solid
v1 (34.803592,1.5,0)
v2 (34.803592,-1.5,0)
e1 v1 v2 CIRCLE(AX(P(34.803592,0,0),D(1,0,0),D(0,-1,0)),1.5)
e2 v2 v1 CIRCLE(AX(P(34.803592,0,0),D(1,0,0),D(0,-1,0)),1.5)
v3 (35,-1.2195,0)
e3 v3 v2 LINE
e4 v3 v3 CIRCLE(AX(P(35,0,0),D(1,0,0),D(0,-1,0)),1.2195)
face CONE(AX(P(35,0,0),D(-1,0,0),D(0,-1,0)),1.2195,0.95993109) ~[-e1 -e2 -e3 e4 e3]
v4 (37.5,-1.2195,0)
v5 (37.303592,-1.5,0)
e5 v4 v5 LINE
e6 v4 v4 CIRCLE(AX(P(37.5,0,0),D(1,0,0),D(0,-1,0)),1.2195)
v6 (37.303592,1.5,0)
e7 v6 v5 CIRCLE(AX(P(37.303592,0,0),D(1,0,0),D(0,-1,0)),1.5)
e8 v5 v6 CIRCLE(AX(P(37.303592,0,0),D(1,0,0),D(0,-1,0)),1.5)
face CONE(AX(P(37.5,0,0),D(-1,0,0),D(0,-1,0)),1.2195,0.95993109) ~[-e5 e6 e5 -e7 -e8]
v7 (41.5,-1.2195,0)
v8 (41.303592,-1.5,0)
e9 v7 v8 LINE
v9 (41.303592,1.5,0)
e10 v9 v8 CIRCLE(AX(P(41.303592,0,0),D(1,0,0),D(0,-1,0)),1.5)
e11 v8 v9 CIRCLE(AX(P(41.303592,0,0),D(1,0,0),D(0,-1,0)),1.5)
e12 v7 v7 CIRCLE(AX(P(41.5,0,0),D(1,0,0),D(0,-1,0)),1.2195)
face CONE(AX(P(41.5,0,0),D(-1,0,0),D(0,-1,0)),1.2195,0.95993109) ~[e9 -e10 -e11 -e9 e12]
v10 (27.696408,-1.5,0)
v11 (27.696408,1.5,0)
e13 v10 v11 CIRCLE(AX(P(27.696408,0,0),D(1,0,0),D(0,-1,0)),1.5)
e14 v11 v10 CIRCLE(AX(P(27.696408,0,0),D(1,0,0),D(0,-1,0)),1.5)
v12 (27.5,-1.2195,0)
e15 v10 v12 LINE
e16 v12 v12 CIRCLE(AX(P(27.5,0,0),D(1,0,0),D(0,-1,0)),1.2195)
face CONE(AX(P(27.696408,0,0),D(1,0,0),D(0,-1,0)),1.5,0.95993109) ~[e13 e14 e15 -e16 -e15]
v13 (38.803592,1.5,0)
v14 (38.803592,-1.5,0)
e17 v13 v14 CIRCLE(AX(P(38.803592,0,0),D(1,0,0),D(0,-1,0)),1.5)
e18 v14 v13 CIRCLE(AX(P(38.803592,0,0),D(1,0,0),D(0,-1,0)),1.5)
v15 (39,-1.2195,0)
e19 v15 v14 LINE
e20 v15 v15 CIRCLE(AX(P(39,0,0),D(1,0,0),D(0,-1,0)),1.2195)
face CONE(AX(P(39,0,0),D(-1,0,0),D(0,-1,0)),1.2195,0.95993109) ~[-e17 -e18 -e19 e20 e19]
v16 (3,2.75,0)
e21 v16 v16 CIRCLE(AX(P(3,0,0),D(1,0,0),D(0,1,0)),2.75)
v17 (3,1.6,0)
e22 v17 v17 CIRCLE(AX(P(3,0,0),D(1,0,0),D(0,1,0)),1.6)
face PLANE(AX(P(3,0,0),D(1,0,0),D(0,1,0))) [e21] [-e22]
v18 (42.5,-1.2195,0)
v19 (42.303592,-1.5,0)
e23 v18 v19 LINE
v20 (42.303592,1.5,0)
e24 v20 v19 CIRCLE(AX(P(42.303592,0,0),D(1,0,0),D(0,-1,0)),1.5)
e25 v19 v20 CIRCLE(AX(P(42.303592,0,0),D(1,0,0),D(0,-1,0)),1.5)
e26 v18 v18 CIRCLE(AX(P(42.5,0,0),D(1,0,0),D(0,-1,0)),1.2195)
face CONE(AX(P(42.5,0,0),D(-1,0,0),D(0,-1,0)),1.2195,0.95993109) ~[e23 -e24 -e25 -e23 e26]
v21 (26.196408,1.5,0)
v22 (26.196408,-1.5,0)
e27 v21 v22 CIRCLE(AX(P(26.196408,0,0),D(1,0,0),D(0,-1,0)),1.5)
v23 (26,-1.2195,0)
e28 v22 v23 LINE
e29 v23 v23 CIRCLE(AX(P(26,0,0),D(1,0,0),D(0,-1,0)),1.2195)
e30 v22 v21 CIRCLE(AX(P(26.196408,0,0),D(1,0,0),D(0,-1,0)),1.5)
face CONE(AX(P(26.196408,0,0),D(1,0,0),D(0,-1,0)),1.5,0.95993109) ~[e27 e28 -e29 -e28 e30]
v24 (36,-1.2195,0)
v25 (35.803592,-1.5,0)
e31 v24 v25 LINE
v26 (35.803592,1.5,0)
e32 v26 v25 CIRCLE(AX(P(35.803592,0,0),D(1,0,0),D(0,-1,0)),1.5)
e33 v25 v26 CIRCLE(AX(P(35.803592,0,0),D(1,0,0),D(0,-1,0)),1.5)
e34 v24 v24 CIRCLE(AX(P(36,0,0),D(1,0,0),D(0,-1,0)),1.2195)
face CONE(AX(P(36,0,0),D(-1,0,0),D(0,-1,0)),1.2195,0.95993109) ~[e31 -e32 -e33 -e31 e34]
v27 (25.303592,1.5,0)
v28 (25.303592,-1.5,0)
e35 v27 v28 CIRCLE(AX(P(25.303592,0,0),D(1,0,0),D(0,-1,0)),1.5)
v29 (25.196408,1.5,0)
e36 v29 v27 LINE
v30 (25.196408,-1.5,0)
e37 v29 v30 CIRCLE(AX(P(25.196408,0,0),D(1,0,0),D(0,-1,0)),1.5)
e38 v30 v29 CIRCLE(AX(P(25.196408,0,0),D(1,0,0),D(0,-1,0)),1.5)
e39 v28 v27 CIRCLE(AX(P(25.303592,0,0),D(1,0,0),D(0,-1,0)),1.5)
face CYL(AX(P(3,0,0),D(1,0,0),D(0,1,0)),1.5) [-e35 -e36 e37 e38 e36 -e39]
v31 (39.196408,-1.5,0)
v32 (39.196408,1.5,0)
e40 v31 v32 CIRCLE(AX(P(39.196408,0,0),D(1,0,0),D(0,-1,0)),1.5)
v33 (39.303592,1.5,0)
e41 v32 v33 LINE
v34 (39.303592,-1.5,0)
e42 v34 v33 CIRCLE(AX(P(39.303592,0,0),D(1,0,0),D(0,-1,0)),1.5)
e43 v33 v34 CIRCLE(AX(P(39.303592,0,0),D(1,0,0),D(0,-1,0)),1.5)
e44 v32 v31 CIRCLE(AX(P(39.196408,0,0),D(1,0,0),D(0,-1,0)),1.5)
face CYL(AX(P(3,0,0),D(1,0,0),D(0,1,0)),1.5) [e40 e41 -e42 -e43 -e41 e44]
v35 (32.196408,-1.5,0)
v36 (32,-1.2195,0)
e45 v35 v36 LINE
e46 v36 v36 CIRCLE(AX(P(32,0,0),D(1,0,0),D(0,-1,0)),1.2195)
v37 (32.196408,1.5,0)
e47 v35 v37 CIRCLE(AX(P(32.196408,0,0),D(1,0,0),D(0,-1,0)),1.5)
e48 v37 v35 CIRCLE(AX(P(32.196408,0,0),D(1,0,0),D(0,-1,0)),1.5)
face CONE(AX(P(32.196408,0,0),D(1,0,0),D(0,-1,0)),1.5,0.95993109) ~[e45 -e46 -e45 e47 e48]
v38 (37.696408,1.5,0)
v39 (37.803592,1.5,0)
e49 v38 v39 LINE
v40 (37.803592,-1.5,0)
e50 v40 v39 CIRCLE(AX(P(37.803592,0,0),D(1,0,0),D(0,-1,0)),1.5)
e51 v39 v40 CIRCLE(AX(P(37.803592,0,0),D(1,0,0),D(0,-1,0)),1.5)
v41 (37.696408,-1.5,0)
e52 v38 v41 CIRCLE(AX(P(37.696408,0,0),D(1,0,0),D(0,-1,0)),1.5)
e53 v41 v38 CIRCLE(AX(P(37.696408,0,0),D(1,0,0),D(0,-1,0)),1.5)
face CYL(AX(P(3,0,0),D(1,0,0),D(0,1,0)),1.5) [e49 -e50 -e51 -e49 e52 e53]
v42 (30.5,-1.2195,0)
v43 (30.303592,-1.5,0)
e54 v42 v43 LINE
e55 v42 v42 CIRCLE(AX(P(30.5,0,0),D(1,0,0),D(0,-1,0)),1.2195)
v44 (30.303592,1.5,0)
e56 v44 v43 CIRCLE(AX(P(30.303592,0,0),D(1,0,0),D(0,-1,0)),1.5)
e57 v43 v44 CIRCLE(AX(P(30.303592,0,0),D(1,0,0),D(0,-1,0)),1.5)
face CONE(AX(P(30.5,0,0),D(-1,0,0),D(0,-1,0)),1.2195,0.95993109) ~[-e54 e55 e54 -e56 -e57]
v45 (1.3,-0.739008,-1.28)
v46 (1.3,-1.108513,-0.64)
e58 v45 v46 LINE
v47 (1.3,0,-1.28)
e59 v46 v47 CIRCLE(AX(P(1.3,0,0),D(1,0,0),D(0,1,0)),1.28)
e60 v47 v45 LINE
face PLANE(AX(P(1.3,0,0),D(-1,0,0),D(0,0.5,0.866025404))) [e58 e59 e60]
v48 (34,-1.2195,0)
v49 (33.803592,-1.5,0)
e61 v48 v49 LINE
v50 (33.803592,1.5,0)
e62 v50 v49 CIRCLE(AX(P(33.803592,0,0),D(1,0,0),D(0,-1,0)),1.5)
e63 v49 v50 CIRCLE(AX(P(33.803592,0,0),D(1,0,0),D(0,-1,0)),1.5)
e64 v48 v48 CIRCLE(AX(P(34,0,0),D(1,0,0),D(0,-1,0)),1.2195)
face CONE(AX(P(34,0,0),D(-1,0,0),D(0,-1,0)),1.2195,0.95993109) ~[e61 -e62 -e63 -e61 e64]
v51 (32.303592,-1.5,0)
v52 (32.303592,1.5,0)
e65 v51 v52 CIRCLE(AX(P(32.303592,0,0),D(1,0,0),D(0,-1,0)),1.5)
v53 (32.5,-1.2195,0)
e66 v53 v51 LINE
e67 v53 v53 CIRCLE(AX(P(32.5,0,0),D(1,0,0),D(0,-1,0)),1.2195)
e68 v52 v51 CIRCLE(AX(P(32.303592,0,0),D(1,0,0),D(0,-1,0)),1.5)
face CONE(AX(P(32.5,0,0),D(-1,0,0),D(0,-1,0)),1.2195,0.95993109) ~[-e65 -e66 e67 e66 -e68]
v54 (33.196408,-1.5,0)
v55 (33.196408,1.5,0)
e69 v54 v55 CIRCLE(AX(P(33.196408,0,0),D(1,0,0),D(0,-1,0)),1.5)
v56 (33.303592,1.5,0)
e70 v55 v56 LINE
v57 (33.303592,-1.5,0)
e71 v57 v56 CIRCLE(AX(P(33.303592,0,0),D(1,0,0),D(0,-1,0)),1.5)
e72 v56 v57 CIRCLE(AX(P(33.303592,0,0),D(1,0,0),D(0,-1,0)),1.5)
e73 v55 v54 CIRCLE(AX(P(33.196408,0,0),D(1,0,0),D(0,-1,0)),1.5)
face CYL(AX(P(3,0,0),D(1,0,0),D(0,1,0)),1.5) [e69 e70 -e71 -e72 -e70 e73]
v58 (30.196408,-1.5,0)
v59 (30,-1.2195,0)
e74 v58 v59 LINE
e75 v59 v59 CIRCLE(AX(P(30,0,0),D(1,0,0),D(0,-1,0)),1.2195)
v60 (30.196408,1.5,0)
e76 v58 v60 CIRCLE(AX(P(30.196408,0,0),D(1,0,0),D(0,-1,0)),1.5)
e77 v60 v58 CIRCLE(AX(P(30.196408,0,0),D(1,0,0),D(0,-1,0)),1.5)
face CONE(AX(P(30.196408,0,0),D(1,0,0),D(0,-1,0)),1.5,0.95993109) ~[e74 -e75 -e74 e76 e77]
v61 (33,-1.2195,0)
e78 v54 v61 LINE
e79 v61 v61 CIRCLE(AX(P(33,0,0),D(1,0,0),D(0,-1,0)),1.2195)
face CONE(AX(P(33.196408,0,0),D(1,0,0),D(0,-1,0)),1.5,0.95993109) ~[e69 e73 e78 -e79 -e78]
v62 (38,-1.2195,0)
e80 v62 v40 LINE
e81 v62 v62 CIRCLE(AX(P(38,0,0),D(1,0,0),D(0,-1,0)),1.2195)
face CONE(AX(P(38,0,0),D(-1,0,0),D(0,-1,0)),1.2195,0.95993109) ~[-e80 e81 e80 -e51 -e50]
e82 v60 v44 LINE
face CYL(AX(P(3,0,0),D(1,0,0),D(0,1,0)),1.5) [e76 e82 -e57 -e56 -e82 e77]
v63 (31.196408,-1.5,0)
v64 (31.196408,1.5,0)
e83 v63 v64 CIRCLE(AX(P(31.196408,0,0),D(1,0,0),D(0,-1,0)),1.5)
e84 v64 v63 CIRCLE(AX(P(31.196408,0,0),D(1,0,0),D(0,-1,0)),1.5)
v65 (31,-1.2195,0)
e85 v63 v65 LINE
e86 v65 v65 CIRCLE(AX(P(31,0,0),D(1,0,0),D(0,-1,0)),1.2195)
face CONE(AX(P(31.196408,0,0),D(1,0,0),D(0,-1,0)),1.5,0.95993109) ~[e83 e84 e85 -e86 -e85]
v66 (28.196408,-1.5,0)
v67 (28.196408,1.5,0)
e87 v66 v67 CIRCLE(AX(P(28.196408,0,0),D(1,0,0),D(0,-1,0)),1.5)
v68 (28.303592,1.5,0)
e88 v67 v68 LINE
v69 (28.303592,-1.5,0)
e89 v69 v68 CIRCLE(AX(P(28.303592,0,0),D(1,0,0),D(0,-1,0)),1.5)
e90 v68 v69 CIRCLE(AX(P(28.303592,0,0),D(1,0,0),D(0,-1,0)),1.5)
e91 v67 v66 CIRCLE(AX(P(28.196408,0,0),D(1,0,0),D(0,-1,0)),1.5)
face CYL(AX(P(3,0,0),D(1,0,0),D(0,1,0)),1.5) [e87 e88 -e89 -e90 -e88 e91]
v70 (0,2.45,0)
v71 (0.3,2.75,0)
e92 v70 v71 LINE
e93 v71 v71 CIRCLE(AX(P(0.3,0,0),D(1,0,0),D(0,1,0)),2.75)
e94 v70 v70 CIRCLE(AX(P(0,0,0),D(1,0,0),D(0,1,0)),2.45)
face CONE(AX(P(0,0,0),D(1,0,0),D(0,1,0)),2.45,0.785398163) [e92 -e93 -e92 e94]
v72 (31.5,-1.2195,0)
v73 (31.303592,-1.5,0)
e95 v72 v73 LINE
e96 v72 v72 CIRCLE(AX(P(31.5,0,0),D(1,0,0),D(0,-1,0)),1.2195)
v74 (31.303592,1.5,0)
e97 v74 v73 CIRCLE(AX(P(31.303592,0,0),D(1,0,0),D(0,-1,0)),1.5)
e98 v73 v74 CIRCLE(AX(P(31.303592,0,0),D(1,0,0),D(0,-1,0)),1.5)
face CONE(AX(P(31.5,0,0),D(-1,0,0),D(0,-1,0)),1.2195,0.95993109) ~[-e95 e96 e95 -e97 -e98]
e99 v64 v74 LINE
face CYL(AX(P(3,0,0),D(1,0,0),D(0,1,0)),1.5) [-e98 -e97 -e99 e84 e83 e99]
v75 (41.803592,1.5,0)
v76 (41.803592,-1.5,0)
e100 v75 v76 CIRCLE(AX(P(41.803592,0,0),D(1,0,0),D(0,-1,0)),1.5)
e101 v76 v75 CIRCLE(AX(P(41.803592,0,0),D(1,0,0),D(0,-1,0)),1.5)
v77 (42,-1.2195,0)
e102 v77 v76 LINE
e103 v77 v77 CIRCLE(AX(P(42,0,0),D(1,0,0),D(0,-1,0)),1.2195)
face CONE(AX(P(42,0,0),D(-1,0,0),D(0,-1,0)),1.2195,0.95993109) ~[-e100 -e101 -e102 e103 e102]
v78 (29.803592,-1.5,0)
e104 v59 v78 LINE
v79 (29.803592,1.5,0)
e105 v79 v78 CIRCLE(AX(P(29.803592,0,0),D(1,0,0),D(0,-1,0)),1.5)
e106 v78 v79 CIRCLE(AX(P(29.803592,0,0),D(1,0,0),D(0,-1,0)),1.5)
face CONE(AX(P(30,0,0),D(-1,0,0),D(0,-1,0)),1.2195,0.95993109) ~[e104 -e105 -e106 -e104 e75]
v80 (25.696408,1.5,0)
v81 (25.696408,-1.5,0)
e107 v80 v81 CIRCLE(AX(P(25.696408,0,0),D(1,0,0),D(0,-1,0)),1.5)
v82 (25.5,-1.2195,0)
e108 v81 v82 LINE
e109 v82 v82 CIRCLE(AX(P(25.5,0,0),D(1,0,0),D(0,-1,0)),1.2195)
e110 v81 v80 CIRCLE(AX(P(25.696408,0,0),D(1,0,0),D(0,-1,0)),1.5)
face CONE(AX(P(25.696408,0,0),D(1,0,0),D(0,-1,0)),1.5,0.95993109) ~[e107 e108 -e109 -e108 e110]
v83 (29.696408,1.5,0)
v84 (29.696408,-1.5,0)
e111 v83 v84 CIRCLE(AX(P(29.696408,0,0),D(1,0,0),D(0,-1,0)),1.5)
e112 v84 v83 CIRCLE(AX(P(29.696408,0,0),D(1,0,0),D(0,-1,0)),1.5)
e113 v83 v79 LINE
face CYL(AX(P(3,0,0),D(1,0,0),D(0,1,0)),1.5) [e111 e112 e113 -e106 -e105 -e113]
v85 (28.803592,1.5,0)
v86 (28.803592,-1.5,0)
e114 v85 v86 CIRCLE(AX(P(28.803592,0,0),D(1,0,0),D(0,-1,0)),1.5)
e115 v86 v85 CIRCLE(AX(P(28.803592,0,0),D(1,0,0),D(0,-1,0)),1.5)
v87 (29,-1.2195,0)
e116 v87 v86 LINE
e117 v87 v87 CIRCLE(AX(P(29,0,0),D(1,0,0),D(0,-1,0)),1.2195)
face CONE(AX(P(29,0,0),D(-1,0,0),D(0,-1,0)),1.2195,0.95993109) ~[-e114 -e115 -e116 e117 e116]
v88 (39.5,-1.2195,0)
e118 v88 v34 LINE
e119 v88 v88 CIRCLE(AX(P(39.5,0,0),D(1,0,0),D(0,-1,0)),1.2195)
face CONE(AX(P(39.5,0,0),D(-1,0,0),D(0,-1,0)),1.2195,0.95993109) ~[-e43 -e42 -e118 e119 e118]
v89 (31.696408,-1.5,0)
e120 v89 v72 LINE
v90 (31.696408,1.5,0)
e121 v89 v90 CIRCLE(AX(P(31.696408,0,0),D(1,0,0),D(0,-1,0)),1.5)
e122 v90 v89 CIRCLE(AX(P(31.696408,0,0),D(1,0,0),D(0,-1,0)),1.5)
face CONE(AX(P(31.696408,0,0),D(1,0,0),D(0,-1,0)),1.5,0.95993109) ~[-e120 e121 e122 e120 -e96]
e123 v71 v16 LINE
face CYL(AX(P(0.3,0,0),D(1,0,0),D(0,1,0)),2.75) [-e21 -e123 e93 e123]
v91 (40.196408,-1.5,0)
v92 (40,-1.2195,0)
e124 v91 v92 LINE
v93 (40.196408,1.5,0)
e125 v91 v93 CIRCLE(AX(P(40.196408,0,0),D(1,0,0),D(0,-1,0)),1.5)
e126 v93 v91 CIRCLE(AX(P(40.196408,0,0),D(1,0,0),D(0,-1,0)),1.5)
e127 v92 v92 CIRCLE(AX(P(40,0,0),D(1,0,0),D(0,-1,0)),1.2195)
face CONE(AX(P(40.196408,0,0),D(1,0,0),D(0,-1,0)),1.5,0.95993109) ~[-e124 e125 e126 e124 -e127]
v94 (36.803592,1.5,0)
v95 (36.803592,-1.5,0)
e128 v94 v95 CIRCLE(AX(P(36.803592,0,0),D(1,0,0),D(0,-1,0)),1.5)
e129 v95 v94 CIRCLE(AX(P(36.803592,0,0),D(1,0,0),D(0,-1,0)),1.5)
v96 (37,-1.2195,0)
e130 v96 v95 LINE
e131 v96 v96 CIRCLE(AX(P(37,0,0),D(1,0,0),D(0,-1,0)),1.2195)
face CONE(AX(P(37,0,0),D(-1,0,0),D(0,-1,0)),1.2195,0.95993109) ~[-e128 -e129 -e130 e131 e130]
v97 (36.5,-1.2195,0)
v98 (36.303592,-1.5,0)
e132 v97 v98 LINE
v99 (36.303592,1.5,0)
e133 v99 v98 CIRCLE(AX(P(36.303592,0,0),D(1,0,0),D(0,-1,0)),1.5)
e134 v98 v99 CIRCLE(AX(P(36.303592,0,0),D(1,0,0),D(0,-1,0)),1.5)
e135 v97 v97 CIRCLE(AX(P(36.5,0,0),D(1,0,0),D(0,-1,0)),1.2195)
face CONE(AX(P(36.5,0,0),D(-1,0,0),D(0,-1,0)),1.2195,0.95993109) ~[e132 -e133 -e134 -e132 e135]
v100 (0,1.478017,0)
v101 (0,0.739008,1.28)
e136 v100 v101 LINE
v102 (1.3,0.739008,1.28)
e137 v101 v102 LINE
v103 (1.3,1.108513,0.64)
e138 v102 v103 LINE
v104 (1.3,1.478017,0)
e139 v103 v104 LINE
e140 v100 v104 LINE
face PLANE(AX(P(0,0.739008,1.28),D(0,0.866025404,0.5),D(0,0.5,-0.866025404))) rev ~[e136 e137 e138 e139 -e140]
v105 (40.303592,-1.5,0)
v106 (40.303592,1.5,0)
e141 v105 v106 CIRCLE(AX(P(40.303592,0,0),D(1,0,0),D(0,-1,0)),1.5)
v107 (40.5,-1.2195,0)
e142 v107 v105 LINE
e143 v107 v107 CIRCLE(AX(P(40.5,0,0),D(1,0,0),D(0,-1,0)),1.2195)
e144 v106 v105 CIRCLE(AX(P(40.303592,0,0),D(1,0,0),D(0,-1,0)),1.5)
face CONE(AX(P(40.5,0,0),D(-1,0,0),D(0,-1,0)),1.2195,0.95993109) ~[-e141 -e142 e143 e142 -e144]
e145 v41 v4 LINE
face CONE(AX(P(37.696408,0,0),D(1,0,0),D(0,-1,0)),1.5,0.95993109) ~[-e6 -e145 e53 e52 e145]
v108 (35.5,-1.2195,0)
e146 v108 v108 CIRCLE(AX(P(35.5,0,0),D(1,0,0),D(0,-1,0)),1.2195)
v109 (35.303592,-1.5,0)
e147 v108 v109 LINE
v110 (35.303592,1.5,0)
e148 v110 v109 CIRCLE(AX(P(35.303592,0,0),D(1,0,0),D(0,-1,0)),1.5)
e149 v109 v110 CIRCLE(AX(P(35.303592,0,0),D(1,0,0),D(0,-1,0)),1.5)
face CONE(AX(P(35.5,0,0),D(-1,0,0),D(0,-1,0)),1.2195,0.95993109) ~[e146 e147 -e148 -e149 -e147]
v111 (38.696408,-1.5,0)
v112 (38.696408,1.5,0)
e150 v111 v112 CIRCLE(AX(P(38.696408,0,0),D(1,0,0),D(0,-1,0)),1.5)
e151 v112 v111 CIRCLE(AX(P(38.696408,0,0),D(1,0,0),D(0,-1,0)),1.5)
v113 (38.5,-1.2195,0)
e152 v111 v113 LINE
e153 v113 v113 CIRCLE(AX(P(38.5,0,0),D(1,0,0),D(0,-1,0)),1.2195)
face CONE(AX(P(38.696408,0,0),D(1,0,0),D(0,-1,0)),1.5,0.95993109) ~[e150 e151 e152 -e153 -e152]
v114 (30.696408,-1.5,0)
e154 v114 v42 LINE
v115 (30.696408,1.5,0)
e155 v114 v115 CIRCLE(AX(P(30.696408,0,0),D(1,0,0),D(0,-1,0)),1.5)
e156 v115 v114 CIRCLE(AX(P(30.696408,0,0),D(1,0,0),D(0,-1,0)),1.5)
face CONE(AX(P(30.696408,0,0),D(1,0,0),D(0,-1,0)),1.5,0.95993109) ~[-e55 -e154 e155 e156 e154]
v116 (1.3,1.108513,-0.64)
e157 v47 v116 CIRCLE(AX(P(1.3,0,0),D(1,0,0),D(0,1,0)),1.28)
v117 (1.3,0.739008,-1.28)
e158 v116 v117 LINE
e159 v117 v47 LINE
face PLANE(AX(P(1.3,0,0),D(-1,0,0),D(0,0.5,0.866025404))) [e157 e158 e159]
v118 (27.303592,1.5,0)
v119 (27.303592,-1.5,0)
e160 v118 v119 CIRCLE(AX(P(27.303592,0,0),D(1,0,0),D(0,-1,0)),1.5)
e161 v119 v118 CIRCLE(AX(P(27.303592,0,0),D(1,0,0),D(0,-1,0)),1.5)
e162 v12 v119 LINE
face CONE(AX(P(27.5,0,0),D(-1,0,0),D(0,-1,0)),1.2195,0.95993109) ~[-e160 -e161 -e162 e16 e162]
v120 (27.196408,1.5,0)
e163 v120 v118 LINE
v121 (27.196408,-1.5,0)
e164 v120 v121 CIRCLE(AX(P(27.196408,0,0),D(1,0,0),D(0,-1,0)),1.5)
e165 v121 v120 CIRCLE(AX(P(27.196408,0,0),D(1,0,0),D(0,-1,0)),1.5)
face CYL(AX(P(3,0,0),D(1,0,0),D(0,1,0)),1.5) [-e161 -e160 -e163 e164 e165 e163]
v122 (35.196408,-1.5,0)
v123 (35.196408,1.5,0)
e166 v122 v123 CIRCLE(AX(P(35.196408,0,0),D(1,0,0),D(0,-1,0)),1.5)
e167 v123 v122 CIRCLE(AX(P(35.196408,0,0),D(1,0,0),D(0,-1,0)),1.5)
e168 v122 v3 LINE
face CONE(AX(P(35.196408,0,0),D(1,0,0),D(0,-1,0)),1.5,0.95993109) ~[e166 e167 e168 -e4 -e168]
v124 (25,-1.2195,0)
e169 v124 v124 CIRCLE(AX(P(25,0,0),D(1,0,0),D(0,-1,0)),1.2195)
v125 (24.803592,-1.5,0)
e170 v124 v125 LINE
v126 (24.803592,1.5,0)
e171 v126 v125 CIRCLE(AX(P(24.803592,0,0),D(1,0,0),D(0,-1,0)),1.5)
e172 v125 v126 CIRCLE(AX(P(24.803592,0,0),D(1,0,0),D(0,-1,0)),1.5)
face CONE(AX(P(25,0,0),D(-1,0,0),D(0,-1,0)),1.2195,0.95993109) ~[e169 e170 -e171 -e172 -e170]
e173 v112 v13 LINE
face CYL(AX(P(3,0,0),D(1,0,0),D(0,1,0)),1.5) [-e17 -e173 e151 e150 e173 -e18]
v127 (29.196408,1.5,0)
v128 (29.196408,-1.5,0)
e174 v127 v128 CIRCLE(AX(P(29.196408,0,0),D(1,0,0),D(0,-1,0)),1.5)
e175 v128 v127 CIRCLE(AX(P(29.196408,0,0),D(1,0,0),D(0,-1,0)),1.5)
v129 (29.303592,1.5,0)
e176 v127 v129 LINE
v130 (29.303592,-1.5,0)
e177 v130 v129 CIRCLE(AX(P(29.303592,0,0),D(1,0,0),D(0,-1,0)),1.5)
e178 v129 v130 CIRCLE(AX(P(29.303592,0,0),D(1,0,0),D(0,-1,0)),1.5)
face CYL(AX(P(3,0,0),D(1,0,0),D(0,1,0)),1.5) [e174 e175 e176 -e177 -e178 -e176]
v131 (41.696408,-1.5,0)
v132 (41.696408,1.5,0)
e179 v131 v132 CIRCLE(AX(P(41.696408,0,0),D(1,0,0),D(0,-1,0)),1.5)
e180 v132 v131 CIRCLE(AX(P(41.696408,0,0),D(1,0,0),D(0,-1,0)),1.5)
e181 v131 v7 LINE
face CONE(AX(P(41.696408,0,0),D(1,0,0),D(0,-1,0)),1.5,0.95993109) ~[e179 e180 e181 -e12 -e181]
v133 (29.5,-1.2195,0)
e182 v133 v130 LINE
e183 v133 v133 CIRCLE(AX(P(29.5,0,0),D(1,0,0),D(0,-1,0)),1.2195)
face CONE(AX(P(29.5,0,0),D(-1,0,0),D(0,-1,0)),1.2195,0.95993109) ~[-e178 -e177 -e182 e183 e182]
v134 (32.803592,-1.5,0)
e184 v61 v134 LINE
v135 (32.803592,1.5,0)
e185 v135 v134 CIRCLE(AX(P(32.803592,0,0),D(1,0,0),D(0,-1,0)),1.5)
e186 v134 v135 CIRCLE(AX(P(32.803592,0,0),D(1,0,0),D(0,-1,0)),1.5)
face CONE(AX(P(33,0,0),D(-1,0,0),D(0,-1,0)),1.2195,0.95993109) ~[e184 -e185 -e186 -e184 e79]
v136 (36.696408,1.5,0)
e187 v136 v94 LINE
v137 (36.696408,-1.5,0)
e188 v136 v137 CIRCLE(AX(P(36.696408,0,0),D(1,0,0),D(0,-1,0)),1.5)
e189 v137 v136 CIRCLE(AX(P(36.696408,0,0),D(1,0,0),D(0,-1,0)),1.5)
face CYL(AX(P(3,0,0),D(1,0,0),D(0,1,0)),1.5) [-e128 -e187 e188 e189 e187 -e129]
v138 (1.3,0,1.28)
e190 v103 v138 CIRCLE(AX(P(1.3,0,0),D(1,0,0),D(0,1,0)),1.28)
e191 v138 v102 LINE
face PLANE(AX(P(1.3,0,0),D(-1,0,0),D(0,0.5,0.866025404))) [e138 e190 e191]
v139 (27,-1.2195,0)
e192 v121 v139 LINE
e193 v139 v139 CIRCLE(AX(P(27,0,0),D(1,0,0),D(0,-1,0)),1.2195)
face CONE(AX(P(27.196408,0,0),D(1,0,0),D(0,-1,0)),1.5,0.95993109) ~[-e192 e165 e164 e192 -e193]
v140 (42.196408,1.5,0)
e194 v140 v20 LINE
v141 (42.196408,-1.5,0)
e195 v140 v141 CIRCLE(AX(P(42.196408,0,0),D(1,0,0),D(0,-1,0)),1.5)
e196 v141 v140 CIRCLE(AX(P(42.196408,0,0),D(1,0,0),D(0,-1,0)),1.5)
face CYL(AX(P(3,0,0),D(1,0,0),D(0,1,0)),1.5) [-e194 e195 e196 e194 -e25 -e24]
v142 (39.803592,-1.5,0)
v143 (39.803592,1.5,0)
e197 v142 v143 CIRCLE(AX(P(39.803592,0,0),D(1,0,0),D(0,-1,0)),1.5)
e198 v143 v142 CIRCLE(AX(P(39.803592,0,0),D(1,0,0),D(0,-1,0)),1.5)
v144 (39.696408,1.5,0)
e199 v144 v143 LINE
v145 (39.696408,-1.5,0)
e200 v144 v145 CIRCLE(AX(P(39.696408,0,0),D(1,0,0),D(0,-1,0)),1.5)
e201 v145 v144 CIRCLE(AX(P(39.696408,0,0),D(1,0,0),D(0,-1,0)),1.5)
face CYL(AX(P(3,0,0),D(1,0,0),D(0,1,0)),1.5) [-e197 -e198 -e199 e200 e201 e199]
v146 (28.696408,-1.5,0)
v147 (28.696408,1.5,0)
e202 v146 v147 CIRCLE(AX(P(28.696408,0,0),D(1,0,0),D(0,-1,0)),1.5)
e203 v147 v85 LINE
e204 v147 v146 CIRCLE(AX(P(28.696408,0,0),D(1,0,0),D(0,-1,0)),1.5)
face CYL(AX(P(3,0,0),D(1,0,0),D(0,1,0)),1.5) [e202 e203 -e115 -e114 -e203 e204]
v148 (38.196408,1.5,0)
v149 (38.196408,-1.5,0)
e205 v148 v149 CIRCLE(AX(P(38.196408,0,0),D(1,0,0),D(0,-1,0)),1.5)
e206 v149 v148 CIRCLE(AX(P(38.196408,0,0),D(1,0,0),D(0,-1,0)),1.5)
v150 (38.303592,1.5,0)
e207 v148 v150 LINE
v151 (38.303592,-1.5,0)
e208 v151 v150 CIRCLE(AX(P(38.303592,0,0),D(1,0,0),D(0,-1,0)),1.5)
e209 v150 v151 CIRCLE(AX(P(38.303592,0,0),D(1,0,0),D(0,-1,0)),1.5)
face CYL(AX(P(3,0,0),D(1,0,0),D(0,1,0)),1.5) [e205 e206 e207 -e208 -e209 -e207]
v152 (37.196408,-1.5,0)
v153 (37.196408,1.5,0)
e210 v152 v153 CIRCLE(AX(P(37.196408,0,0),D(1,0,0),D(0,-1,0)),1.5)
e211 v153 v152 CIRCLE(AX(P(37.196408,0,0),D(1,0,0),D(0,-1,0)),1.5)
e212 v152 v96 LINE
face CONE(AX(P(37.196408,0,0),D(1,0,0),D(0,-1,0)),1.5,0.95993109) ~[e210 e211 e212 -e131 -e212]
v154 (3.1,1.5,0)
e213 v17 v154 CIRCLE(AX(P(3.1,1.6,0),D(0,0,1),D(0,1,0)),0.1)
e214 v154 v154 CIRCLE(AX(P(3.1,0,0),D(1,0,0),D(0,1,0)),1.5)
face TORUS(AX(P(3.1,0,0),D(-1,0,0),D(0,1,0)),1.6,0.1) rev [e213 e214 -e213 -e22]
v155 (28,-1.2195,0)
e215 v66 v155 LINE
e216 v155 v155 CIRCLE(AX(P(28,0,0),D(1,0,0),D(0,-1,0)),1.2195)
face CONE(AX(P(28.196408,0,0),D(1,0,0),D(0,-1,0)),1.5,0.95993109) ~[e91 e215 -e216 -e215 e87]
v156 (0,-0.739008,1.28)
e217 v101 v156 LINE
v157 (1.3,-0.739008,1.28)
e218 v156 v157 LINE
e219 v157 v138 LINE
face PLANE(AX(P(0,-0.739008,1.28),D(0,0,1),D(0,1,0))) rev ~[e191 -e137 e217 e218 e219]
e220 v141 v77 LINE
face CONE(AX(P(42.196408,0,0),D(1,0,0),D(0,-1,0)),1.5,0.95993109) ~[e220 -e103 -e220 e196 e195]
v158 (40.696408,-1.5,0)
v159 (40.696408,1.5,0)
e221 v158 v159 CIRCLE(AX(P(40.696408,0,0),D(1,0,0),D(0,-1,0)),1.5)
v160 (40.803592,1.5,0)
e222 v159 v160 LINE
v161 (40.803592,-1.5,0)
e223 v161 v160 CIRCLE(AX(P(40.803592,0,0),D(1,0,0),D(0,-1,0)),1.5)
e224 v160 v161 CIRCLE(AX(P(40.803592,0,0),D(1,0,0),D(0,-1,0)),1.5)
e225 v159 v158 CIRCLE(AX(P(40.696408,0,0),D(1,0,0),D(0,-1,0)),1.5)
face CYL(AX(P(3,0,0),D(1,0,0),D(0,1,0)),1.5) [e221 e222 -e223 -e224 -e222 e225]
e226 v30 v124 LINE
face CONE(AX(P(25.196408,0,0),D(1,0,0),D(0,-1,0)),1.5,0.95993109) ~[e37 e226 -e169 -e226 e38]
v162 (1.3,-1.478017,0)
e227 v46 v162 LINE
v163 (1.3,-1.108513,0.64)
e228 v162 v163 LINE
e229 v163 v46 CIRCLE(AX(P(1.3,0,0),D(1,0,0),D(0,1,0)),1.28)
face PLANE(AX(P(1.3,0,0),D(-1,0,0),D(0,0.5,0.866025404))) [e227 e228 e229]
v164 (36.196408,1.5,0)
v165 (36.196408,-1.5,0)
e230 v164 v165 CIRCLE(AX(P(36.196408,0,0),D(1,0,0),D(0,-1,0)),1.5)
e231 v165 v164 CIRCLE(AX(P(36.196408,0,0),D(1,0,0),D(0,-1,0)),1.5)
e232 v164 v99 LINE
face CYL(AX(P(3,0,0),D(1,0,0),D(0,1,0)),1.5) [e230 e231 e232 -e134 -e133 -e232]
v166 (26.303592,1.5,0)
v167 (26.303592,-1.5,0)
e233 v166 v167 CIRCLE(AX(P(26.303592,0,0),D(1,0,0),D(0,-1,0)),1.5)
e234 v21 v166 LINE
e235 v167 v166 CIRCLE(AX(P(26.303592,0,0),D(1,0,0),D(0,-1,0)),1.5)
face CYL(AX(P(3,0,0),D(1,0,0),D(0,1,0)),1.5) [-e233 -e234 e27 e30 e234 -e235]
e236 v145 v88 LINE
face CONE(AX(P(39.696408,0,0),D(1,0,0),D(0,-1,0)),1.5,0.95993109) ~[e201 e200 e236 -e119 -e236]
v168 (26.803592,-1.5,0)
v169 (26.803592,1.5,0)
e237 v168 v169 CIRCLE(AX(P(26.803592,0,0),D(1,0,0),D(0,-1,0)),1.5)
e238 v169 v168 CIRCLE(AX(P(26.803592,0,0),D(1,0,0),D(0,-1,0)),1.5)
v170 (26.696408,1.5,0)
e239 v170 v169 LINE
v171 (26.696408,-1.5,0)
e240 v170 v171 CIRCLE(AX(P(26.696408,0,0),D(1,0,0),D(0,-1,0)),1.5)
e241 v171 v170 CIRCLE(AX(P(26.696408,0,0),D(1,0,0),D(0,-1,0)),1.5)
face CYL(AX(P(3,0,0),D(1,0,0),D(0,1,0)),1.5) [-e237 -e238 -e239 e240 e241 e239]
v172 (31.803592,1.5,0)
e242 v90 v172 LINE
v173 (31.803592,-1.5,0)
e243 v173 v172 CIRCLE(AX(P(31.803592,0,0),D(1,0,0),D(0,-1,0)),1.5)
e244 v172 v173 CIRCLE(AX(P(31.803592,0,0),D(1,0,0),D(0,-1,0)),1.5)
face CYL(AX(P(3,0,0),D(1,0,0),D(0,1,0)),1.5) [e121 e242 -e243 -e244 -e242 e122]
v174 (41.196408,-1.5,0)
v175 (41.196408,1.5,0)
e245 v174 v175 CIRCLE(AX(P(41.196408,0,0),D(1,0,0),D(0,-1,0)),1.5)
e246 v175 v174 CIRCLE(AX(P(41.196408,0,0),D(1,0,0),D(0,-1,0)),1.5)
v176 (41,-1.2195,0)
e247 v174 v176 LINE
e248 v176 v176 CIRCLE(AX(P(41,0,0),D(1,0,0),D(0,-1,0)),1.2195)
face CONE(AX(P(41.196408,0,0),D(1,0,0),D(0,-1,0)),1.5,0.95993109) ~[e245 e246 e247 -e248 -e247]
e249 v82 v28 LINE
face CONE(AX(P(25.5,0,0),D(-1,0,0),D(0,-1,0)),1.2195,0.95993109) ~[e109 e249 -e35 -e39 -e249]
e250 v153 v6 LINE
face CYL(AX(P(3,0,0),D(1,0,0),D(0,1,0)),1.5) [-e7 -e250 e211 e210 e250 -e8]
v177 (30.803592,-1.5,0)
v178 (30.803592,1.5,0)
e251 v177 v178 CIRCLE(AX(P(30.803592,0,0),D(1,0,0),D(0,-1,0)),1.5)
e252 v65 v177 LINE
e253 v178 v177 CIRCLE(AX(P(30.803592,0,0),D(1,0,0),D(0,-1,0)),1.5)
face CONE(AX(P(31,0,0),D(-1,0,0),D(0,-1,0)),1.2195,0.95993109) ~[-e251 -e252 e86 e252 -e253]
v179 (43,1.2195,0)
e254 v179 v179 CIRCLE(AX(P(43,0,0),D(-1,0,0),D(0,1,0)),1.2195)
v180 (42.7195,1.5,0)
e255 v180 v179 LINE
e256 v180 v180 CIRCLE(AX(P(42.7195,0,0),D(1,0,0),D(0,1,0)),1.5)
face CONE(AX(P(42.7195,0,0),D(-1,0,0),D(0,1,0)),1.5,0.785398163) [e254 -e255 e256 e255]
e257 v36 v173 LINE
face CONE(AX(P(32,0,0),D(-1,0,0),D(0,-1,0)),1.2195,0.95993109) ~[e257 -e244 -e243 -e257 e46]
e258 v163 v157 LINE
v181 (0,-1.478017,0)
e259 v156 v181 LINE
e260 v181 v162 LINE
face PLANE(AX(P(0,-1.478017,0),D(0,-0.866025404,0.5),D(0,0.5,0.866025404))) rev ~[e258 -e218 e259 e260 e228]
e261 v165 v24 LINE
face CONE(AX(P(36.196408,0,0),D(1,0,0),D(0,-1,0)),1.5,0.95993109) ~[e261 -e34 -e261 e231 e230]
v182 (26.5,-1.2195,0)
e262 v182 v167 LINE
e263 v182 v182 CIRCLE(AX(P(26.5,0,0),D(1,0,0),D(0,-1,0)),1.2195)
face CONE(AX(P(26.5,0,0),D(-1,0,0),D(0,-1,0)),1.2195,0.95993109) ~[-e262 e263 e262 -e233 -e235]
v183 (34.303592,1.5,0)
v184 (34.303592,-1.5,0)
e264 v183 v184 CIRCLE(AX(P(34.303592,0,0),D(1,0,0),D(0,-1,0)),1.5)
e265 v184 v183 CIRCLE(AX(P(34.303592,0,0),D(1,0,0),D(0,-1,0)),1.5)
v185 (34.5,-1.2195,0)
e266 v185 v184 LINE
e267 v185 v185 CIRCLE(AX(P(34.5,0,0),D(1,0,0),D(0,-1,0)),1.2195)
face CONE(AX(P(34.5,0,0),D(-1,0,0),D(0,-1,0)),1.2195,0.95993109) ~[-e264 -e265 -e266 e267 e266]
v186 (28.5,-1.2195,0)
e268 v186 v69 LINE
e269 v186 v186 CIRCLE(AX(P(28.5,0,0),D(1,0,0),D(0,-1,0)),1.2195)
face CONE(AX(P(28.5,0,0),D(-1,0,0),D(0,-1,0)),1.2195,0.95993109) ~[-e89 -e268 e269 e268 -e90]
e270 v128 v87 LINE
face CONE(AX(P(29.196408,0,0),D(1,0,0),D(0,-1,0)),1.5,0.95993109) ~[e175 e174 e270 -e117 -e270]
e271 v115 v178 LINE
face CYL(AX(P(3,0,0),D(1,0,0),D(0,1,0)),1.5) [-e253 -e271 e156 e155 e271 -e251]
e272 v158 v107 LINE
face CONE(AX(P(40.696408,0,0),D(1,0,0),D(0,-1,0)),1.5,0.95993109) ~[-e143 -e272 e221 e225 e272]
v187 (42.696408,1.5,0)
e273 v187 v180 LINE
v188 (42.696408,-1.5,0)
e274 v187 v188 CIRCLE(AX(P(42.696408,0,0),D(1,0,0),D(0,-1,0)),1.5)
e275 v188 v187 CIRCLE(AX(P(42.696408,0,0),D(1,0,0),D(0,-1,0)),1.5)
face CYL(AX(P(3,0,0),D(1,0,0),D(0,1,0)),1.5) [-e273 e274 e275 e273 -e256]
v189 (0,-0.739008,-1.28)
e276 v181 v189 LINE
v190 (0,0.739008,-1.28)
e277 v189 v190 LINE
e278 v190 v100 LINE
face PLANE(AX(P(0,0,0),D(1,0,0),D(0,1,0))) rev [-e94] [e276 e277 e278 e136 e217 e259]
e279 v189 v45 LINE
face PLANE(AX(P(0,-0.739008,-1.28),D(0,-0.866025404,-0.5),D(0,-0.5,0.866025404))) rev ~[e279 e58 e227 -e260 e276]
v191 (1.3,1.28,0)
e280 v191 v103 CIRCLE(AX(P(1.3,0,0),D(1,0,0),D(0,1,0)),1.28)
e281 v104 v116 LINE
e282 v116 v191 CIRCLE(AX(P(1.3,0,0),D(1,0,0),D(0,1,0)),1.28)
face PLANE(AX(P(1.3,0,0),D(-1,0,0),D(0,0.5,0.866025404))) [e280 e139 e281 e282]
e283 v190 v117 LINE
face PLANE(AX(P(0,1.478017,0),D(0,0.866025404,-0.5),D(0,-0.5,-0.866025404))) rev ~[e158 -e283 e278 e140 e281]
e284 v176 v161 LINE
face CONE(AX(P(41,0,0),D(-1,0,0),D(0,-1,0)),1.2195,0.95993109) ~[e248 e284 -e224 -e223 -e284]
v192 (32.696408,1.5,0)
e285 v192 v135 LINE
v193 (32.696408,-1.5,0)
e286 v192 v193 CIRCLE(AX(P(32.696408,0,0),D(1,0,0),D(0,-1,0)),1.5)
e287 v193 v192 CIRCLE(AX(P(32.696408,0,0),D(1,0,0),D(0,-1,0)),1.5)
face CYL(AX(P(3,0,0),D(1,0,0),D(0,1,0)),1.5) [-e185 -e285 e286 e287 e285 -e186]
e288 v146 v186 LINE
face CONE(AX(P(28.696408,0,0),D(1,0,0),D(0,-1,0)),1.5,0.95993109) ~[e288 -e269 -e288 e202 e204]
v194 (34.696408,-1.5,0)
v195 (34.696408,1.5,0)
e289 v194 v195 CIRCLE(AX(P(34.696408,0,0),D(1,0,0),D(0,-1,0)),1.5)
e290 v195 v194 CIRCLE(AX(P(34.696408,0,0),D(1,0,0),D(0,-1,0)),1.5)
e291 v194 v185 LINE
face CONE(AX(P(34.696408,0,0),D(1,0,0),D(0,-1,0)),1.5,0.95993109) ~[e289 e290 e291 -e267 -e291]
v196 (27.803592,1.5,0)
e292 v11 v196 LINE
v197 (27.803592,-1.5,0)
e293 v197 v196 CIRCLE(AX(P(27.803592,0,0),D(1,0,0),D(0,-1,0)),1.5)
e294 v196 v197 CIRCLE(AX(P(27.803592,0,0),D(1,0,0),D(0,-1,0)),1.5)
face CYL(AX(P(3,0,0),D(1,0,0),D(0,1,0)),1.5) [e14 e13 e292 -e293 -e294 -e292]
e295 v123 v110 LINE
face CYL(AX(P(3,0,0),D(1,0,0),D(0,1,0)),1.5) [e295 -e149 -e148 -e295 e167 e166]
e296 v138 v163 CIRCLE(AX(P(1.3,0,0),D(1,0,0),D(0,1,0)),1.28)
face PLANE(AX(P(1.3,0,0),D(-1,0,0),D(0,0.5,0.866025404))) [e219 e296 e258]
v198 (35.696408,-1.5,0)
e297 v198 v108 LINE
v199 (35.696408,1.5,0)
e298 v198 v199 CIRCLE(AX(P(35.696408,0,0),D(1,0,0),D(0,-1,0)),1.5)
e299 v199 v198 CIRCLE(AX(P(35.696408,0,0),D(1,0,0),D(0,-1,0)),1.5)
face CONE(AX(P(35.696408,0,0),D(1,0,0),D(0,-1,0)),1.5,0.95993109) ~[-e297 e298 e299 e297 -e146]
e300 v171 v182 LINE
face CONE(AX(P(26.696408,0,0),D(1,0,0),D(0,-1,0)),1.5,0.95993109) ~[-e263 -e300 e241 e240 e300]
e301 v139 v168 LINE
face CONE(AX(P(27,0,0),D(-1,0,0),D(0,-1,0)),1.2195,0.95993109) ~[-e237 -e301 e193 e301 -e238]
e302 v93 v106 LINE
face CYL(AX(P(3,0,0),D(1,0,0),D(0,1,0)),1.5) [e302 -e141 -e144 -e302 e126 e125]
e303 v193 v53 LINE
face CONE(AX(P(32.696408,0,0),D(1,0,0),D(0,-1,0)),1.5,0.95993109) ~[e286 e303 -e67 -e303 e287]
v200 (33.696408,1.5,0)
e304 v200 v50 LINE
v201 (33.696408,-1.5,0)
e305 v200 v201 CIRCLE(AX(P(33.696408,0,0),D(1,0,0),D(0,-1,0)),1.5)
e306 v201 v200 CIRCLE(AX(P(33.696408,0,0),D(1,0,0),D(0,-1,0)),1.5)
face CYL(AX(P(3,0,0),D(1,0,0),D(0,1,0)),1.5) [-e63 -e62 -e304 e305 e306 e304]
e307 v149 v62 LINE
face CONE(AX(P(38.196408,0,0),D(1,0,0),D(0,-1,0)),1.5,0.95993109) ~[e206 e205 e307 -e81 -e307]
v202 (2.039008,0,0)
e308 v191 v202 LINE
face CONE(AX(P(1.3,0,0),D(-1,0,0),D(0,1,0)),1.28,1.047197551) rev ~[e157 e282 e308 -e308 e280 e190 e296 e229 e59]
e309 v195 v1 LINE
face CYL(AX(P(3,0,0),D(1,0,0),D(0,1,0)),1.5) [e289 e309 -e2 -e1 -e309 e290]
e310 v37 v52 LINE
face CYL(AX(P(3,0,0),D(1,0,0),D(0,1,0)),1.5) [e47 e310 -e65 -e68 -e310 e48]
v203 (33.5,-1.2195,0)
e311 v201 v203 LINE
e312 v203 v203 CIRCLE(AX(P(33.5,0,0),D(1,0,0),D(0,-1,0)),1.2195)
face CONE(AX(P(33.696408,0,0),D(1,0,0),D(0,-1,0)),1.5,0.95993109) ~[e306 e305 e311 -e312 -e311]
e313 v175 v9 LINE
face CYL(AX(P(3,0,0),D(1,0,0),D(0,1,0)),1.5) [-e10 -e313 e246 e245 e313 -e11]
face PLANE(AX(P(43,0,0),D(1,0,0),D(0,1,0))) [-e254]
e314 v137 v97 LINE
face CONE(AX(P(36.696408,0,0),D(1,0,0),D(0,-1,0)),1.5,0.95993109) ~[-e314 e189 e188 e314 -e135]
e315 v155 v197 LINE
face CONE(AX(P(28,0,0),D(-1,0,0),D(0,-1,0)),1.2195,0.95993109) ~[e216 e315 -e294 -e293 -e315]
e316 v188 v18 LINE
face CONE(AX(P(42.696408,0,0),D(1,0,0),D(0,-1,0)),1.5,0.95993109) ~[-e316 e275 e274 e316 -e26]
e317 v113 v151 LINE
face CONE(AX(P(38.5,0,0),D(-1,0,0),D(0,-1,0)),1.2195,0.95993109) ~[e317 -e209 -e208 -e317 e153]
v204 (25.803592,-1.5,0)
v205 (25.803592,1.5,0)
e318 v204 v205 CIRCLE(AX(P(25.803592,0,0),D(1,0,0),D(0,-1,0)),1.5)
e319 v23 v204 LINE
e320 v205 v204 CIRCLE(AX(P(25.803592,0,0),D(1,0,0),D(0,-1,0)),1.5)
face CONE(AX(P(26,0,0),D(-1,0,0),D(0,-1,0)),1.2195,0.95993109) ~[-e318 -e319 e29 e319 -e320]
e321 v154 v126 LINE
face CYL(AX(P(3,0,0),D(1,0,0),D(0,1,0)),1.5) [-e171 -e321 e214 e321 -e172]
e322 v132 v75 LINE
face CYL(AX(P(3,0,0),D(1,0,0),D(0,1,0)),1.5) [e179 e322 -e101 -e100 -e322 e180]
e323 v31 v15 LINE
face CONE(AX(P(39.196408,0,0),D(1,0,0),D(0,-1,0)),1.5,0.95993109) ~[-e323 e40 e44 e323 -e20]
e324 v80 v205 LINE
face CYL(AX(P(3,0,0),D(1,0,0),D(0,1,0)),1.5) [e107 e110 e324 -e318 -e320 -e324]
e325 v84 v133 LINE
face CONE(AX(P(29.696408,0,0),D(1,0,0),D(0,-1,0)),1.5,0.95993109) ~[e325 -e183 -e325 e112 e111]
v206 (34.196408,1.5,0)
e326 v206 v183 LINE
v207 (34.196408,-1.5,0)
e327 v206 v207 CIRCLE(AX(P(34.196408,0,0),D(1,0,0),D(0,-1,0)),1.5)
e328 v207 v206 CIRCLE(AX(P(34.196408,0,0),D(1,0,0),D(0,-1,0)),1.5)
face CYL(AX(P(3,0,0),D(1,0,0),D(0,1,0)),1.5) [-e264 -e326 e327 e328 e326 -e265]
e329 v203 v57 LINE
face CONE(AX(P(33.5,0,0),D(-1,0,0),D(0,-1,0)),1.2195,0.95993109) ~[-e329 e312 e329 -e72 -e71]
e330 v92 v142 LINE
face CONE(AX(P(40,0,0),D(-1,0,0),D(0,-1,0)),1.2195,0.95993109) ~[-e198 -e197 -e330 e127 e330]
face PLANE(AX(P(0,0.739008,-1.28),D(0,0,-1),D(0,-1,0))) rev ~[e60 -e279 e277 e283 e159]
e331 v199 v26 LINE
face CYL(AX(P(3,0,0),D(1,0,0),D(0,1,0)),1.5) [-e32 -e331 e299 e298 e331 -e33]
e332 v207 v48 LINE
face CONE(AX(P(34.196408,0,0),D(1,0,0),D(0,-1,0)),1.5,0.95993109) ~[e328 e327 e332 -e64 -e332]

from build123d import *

# Parameters (mm, degrees)
FILLET1_R       = 0.1
HEX_2_DEPTH     = 1.3
THDSCHPAT_COUNT = 37
THDSCHPAT_PITCH = 0.5


with BuildPart() as part:
    # BodySke → Base-Revolve (revolve)
    with BuildSketch(Plane.XY):
        Polygon((0, 0), (0, 2.45), (0.3, 2.75), (3, 2.75), (3, 1.5), (42.7195, 1.5), (43, 1.2195), (43, 0), align=None)
    revolve(axis=Axis((-31.75, 0, 0), (1, 0, 0)))

    # Fillet1
    fillet1_edges = [part.edges().sort_by_distance(p)[0] for p in [
        (3, -1.5, 0),
    ]]
    fillet(fillet1_edges, radius=FILLET1_R)

    # Sketch2 → Hex-PreBroach (revolve, cut)
    with BuildSketch(Plane.XY):
        Polygon((0, 1.28), (1.3, 1.28), (2.039008345, 0), (0, 0), align=None)
    revolve(axis=Axis((0, 0, 0), (1, 0, 0)), mode=Mode.SUBTRACT)

    # Sketch3 → Hex 2 (cut)
    with BuildSketch(Plane(origin=(0, 0, 0), x_dir=(0, 0.5, 0.866025404), z_dir=(-1, 0, 0))):
        Polygon((0.739008345, 1.28), (-0.739008345, 1.28), (-1.478016689, 0), (-0.739008345, -1.28), (0.739008345, -1.28), (1.478016689, 0), align=None)
    extrude(amount=-HEX_2_DEPTH, mode=Mode.SUBTRACT)

    # ThdSchSke → ThreadSchematic (revolve, cut)
    with BuildSketch(Plane.XY):
        Polygon((25, -1.2195), (24.803591786, -1.5), (24.803591786, -1.875), (25.196408214, -1.875), (25.196408214, -1.5), align=None)
    threadschematic = revolve(axis=Axis((-3.175, 0, 0), (1, 0, 0)), mode=Mode.SUBTRACT)

    # ThdSchPat: ThreadSchematic ×37
    with Locations(*[(i * THDSCHPAT_PITCH, 0, 0) for i in range(1, THDSCHPAT_COUNT)]):
        add(threadschematic, mode=Mode.SUBTRACT)


solid = part.part
